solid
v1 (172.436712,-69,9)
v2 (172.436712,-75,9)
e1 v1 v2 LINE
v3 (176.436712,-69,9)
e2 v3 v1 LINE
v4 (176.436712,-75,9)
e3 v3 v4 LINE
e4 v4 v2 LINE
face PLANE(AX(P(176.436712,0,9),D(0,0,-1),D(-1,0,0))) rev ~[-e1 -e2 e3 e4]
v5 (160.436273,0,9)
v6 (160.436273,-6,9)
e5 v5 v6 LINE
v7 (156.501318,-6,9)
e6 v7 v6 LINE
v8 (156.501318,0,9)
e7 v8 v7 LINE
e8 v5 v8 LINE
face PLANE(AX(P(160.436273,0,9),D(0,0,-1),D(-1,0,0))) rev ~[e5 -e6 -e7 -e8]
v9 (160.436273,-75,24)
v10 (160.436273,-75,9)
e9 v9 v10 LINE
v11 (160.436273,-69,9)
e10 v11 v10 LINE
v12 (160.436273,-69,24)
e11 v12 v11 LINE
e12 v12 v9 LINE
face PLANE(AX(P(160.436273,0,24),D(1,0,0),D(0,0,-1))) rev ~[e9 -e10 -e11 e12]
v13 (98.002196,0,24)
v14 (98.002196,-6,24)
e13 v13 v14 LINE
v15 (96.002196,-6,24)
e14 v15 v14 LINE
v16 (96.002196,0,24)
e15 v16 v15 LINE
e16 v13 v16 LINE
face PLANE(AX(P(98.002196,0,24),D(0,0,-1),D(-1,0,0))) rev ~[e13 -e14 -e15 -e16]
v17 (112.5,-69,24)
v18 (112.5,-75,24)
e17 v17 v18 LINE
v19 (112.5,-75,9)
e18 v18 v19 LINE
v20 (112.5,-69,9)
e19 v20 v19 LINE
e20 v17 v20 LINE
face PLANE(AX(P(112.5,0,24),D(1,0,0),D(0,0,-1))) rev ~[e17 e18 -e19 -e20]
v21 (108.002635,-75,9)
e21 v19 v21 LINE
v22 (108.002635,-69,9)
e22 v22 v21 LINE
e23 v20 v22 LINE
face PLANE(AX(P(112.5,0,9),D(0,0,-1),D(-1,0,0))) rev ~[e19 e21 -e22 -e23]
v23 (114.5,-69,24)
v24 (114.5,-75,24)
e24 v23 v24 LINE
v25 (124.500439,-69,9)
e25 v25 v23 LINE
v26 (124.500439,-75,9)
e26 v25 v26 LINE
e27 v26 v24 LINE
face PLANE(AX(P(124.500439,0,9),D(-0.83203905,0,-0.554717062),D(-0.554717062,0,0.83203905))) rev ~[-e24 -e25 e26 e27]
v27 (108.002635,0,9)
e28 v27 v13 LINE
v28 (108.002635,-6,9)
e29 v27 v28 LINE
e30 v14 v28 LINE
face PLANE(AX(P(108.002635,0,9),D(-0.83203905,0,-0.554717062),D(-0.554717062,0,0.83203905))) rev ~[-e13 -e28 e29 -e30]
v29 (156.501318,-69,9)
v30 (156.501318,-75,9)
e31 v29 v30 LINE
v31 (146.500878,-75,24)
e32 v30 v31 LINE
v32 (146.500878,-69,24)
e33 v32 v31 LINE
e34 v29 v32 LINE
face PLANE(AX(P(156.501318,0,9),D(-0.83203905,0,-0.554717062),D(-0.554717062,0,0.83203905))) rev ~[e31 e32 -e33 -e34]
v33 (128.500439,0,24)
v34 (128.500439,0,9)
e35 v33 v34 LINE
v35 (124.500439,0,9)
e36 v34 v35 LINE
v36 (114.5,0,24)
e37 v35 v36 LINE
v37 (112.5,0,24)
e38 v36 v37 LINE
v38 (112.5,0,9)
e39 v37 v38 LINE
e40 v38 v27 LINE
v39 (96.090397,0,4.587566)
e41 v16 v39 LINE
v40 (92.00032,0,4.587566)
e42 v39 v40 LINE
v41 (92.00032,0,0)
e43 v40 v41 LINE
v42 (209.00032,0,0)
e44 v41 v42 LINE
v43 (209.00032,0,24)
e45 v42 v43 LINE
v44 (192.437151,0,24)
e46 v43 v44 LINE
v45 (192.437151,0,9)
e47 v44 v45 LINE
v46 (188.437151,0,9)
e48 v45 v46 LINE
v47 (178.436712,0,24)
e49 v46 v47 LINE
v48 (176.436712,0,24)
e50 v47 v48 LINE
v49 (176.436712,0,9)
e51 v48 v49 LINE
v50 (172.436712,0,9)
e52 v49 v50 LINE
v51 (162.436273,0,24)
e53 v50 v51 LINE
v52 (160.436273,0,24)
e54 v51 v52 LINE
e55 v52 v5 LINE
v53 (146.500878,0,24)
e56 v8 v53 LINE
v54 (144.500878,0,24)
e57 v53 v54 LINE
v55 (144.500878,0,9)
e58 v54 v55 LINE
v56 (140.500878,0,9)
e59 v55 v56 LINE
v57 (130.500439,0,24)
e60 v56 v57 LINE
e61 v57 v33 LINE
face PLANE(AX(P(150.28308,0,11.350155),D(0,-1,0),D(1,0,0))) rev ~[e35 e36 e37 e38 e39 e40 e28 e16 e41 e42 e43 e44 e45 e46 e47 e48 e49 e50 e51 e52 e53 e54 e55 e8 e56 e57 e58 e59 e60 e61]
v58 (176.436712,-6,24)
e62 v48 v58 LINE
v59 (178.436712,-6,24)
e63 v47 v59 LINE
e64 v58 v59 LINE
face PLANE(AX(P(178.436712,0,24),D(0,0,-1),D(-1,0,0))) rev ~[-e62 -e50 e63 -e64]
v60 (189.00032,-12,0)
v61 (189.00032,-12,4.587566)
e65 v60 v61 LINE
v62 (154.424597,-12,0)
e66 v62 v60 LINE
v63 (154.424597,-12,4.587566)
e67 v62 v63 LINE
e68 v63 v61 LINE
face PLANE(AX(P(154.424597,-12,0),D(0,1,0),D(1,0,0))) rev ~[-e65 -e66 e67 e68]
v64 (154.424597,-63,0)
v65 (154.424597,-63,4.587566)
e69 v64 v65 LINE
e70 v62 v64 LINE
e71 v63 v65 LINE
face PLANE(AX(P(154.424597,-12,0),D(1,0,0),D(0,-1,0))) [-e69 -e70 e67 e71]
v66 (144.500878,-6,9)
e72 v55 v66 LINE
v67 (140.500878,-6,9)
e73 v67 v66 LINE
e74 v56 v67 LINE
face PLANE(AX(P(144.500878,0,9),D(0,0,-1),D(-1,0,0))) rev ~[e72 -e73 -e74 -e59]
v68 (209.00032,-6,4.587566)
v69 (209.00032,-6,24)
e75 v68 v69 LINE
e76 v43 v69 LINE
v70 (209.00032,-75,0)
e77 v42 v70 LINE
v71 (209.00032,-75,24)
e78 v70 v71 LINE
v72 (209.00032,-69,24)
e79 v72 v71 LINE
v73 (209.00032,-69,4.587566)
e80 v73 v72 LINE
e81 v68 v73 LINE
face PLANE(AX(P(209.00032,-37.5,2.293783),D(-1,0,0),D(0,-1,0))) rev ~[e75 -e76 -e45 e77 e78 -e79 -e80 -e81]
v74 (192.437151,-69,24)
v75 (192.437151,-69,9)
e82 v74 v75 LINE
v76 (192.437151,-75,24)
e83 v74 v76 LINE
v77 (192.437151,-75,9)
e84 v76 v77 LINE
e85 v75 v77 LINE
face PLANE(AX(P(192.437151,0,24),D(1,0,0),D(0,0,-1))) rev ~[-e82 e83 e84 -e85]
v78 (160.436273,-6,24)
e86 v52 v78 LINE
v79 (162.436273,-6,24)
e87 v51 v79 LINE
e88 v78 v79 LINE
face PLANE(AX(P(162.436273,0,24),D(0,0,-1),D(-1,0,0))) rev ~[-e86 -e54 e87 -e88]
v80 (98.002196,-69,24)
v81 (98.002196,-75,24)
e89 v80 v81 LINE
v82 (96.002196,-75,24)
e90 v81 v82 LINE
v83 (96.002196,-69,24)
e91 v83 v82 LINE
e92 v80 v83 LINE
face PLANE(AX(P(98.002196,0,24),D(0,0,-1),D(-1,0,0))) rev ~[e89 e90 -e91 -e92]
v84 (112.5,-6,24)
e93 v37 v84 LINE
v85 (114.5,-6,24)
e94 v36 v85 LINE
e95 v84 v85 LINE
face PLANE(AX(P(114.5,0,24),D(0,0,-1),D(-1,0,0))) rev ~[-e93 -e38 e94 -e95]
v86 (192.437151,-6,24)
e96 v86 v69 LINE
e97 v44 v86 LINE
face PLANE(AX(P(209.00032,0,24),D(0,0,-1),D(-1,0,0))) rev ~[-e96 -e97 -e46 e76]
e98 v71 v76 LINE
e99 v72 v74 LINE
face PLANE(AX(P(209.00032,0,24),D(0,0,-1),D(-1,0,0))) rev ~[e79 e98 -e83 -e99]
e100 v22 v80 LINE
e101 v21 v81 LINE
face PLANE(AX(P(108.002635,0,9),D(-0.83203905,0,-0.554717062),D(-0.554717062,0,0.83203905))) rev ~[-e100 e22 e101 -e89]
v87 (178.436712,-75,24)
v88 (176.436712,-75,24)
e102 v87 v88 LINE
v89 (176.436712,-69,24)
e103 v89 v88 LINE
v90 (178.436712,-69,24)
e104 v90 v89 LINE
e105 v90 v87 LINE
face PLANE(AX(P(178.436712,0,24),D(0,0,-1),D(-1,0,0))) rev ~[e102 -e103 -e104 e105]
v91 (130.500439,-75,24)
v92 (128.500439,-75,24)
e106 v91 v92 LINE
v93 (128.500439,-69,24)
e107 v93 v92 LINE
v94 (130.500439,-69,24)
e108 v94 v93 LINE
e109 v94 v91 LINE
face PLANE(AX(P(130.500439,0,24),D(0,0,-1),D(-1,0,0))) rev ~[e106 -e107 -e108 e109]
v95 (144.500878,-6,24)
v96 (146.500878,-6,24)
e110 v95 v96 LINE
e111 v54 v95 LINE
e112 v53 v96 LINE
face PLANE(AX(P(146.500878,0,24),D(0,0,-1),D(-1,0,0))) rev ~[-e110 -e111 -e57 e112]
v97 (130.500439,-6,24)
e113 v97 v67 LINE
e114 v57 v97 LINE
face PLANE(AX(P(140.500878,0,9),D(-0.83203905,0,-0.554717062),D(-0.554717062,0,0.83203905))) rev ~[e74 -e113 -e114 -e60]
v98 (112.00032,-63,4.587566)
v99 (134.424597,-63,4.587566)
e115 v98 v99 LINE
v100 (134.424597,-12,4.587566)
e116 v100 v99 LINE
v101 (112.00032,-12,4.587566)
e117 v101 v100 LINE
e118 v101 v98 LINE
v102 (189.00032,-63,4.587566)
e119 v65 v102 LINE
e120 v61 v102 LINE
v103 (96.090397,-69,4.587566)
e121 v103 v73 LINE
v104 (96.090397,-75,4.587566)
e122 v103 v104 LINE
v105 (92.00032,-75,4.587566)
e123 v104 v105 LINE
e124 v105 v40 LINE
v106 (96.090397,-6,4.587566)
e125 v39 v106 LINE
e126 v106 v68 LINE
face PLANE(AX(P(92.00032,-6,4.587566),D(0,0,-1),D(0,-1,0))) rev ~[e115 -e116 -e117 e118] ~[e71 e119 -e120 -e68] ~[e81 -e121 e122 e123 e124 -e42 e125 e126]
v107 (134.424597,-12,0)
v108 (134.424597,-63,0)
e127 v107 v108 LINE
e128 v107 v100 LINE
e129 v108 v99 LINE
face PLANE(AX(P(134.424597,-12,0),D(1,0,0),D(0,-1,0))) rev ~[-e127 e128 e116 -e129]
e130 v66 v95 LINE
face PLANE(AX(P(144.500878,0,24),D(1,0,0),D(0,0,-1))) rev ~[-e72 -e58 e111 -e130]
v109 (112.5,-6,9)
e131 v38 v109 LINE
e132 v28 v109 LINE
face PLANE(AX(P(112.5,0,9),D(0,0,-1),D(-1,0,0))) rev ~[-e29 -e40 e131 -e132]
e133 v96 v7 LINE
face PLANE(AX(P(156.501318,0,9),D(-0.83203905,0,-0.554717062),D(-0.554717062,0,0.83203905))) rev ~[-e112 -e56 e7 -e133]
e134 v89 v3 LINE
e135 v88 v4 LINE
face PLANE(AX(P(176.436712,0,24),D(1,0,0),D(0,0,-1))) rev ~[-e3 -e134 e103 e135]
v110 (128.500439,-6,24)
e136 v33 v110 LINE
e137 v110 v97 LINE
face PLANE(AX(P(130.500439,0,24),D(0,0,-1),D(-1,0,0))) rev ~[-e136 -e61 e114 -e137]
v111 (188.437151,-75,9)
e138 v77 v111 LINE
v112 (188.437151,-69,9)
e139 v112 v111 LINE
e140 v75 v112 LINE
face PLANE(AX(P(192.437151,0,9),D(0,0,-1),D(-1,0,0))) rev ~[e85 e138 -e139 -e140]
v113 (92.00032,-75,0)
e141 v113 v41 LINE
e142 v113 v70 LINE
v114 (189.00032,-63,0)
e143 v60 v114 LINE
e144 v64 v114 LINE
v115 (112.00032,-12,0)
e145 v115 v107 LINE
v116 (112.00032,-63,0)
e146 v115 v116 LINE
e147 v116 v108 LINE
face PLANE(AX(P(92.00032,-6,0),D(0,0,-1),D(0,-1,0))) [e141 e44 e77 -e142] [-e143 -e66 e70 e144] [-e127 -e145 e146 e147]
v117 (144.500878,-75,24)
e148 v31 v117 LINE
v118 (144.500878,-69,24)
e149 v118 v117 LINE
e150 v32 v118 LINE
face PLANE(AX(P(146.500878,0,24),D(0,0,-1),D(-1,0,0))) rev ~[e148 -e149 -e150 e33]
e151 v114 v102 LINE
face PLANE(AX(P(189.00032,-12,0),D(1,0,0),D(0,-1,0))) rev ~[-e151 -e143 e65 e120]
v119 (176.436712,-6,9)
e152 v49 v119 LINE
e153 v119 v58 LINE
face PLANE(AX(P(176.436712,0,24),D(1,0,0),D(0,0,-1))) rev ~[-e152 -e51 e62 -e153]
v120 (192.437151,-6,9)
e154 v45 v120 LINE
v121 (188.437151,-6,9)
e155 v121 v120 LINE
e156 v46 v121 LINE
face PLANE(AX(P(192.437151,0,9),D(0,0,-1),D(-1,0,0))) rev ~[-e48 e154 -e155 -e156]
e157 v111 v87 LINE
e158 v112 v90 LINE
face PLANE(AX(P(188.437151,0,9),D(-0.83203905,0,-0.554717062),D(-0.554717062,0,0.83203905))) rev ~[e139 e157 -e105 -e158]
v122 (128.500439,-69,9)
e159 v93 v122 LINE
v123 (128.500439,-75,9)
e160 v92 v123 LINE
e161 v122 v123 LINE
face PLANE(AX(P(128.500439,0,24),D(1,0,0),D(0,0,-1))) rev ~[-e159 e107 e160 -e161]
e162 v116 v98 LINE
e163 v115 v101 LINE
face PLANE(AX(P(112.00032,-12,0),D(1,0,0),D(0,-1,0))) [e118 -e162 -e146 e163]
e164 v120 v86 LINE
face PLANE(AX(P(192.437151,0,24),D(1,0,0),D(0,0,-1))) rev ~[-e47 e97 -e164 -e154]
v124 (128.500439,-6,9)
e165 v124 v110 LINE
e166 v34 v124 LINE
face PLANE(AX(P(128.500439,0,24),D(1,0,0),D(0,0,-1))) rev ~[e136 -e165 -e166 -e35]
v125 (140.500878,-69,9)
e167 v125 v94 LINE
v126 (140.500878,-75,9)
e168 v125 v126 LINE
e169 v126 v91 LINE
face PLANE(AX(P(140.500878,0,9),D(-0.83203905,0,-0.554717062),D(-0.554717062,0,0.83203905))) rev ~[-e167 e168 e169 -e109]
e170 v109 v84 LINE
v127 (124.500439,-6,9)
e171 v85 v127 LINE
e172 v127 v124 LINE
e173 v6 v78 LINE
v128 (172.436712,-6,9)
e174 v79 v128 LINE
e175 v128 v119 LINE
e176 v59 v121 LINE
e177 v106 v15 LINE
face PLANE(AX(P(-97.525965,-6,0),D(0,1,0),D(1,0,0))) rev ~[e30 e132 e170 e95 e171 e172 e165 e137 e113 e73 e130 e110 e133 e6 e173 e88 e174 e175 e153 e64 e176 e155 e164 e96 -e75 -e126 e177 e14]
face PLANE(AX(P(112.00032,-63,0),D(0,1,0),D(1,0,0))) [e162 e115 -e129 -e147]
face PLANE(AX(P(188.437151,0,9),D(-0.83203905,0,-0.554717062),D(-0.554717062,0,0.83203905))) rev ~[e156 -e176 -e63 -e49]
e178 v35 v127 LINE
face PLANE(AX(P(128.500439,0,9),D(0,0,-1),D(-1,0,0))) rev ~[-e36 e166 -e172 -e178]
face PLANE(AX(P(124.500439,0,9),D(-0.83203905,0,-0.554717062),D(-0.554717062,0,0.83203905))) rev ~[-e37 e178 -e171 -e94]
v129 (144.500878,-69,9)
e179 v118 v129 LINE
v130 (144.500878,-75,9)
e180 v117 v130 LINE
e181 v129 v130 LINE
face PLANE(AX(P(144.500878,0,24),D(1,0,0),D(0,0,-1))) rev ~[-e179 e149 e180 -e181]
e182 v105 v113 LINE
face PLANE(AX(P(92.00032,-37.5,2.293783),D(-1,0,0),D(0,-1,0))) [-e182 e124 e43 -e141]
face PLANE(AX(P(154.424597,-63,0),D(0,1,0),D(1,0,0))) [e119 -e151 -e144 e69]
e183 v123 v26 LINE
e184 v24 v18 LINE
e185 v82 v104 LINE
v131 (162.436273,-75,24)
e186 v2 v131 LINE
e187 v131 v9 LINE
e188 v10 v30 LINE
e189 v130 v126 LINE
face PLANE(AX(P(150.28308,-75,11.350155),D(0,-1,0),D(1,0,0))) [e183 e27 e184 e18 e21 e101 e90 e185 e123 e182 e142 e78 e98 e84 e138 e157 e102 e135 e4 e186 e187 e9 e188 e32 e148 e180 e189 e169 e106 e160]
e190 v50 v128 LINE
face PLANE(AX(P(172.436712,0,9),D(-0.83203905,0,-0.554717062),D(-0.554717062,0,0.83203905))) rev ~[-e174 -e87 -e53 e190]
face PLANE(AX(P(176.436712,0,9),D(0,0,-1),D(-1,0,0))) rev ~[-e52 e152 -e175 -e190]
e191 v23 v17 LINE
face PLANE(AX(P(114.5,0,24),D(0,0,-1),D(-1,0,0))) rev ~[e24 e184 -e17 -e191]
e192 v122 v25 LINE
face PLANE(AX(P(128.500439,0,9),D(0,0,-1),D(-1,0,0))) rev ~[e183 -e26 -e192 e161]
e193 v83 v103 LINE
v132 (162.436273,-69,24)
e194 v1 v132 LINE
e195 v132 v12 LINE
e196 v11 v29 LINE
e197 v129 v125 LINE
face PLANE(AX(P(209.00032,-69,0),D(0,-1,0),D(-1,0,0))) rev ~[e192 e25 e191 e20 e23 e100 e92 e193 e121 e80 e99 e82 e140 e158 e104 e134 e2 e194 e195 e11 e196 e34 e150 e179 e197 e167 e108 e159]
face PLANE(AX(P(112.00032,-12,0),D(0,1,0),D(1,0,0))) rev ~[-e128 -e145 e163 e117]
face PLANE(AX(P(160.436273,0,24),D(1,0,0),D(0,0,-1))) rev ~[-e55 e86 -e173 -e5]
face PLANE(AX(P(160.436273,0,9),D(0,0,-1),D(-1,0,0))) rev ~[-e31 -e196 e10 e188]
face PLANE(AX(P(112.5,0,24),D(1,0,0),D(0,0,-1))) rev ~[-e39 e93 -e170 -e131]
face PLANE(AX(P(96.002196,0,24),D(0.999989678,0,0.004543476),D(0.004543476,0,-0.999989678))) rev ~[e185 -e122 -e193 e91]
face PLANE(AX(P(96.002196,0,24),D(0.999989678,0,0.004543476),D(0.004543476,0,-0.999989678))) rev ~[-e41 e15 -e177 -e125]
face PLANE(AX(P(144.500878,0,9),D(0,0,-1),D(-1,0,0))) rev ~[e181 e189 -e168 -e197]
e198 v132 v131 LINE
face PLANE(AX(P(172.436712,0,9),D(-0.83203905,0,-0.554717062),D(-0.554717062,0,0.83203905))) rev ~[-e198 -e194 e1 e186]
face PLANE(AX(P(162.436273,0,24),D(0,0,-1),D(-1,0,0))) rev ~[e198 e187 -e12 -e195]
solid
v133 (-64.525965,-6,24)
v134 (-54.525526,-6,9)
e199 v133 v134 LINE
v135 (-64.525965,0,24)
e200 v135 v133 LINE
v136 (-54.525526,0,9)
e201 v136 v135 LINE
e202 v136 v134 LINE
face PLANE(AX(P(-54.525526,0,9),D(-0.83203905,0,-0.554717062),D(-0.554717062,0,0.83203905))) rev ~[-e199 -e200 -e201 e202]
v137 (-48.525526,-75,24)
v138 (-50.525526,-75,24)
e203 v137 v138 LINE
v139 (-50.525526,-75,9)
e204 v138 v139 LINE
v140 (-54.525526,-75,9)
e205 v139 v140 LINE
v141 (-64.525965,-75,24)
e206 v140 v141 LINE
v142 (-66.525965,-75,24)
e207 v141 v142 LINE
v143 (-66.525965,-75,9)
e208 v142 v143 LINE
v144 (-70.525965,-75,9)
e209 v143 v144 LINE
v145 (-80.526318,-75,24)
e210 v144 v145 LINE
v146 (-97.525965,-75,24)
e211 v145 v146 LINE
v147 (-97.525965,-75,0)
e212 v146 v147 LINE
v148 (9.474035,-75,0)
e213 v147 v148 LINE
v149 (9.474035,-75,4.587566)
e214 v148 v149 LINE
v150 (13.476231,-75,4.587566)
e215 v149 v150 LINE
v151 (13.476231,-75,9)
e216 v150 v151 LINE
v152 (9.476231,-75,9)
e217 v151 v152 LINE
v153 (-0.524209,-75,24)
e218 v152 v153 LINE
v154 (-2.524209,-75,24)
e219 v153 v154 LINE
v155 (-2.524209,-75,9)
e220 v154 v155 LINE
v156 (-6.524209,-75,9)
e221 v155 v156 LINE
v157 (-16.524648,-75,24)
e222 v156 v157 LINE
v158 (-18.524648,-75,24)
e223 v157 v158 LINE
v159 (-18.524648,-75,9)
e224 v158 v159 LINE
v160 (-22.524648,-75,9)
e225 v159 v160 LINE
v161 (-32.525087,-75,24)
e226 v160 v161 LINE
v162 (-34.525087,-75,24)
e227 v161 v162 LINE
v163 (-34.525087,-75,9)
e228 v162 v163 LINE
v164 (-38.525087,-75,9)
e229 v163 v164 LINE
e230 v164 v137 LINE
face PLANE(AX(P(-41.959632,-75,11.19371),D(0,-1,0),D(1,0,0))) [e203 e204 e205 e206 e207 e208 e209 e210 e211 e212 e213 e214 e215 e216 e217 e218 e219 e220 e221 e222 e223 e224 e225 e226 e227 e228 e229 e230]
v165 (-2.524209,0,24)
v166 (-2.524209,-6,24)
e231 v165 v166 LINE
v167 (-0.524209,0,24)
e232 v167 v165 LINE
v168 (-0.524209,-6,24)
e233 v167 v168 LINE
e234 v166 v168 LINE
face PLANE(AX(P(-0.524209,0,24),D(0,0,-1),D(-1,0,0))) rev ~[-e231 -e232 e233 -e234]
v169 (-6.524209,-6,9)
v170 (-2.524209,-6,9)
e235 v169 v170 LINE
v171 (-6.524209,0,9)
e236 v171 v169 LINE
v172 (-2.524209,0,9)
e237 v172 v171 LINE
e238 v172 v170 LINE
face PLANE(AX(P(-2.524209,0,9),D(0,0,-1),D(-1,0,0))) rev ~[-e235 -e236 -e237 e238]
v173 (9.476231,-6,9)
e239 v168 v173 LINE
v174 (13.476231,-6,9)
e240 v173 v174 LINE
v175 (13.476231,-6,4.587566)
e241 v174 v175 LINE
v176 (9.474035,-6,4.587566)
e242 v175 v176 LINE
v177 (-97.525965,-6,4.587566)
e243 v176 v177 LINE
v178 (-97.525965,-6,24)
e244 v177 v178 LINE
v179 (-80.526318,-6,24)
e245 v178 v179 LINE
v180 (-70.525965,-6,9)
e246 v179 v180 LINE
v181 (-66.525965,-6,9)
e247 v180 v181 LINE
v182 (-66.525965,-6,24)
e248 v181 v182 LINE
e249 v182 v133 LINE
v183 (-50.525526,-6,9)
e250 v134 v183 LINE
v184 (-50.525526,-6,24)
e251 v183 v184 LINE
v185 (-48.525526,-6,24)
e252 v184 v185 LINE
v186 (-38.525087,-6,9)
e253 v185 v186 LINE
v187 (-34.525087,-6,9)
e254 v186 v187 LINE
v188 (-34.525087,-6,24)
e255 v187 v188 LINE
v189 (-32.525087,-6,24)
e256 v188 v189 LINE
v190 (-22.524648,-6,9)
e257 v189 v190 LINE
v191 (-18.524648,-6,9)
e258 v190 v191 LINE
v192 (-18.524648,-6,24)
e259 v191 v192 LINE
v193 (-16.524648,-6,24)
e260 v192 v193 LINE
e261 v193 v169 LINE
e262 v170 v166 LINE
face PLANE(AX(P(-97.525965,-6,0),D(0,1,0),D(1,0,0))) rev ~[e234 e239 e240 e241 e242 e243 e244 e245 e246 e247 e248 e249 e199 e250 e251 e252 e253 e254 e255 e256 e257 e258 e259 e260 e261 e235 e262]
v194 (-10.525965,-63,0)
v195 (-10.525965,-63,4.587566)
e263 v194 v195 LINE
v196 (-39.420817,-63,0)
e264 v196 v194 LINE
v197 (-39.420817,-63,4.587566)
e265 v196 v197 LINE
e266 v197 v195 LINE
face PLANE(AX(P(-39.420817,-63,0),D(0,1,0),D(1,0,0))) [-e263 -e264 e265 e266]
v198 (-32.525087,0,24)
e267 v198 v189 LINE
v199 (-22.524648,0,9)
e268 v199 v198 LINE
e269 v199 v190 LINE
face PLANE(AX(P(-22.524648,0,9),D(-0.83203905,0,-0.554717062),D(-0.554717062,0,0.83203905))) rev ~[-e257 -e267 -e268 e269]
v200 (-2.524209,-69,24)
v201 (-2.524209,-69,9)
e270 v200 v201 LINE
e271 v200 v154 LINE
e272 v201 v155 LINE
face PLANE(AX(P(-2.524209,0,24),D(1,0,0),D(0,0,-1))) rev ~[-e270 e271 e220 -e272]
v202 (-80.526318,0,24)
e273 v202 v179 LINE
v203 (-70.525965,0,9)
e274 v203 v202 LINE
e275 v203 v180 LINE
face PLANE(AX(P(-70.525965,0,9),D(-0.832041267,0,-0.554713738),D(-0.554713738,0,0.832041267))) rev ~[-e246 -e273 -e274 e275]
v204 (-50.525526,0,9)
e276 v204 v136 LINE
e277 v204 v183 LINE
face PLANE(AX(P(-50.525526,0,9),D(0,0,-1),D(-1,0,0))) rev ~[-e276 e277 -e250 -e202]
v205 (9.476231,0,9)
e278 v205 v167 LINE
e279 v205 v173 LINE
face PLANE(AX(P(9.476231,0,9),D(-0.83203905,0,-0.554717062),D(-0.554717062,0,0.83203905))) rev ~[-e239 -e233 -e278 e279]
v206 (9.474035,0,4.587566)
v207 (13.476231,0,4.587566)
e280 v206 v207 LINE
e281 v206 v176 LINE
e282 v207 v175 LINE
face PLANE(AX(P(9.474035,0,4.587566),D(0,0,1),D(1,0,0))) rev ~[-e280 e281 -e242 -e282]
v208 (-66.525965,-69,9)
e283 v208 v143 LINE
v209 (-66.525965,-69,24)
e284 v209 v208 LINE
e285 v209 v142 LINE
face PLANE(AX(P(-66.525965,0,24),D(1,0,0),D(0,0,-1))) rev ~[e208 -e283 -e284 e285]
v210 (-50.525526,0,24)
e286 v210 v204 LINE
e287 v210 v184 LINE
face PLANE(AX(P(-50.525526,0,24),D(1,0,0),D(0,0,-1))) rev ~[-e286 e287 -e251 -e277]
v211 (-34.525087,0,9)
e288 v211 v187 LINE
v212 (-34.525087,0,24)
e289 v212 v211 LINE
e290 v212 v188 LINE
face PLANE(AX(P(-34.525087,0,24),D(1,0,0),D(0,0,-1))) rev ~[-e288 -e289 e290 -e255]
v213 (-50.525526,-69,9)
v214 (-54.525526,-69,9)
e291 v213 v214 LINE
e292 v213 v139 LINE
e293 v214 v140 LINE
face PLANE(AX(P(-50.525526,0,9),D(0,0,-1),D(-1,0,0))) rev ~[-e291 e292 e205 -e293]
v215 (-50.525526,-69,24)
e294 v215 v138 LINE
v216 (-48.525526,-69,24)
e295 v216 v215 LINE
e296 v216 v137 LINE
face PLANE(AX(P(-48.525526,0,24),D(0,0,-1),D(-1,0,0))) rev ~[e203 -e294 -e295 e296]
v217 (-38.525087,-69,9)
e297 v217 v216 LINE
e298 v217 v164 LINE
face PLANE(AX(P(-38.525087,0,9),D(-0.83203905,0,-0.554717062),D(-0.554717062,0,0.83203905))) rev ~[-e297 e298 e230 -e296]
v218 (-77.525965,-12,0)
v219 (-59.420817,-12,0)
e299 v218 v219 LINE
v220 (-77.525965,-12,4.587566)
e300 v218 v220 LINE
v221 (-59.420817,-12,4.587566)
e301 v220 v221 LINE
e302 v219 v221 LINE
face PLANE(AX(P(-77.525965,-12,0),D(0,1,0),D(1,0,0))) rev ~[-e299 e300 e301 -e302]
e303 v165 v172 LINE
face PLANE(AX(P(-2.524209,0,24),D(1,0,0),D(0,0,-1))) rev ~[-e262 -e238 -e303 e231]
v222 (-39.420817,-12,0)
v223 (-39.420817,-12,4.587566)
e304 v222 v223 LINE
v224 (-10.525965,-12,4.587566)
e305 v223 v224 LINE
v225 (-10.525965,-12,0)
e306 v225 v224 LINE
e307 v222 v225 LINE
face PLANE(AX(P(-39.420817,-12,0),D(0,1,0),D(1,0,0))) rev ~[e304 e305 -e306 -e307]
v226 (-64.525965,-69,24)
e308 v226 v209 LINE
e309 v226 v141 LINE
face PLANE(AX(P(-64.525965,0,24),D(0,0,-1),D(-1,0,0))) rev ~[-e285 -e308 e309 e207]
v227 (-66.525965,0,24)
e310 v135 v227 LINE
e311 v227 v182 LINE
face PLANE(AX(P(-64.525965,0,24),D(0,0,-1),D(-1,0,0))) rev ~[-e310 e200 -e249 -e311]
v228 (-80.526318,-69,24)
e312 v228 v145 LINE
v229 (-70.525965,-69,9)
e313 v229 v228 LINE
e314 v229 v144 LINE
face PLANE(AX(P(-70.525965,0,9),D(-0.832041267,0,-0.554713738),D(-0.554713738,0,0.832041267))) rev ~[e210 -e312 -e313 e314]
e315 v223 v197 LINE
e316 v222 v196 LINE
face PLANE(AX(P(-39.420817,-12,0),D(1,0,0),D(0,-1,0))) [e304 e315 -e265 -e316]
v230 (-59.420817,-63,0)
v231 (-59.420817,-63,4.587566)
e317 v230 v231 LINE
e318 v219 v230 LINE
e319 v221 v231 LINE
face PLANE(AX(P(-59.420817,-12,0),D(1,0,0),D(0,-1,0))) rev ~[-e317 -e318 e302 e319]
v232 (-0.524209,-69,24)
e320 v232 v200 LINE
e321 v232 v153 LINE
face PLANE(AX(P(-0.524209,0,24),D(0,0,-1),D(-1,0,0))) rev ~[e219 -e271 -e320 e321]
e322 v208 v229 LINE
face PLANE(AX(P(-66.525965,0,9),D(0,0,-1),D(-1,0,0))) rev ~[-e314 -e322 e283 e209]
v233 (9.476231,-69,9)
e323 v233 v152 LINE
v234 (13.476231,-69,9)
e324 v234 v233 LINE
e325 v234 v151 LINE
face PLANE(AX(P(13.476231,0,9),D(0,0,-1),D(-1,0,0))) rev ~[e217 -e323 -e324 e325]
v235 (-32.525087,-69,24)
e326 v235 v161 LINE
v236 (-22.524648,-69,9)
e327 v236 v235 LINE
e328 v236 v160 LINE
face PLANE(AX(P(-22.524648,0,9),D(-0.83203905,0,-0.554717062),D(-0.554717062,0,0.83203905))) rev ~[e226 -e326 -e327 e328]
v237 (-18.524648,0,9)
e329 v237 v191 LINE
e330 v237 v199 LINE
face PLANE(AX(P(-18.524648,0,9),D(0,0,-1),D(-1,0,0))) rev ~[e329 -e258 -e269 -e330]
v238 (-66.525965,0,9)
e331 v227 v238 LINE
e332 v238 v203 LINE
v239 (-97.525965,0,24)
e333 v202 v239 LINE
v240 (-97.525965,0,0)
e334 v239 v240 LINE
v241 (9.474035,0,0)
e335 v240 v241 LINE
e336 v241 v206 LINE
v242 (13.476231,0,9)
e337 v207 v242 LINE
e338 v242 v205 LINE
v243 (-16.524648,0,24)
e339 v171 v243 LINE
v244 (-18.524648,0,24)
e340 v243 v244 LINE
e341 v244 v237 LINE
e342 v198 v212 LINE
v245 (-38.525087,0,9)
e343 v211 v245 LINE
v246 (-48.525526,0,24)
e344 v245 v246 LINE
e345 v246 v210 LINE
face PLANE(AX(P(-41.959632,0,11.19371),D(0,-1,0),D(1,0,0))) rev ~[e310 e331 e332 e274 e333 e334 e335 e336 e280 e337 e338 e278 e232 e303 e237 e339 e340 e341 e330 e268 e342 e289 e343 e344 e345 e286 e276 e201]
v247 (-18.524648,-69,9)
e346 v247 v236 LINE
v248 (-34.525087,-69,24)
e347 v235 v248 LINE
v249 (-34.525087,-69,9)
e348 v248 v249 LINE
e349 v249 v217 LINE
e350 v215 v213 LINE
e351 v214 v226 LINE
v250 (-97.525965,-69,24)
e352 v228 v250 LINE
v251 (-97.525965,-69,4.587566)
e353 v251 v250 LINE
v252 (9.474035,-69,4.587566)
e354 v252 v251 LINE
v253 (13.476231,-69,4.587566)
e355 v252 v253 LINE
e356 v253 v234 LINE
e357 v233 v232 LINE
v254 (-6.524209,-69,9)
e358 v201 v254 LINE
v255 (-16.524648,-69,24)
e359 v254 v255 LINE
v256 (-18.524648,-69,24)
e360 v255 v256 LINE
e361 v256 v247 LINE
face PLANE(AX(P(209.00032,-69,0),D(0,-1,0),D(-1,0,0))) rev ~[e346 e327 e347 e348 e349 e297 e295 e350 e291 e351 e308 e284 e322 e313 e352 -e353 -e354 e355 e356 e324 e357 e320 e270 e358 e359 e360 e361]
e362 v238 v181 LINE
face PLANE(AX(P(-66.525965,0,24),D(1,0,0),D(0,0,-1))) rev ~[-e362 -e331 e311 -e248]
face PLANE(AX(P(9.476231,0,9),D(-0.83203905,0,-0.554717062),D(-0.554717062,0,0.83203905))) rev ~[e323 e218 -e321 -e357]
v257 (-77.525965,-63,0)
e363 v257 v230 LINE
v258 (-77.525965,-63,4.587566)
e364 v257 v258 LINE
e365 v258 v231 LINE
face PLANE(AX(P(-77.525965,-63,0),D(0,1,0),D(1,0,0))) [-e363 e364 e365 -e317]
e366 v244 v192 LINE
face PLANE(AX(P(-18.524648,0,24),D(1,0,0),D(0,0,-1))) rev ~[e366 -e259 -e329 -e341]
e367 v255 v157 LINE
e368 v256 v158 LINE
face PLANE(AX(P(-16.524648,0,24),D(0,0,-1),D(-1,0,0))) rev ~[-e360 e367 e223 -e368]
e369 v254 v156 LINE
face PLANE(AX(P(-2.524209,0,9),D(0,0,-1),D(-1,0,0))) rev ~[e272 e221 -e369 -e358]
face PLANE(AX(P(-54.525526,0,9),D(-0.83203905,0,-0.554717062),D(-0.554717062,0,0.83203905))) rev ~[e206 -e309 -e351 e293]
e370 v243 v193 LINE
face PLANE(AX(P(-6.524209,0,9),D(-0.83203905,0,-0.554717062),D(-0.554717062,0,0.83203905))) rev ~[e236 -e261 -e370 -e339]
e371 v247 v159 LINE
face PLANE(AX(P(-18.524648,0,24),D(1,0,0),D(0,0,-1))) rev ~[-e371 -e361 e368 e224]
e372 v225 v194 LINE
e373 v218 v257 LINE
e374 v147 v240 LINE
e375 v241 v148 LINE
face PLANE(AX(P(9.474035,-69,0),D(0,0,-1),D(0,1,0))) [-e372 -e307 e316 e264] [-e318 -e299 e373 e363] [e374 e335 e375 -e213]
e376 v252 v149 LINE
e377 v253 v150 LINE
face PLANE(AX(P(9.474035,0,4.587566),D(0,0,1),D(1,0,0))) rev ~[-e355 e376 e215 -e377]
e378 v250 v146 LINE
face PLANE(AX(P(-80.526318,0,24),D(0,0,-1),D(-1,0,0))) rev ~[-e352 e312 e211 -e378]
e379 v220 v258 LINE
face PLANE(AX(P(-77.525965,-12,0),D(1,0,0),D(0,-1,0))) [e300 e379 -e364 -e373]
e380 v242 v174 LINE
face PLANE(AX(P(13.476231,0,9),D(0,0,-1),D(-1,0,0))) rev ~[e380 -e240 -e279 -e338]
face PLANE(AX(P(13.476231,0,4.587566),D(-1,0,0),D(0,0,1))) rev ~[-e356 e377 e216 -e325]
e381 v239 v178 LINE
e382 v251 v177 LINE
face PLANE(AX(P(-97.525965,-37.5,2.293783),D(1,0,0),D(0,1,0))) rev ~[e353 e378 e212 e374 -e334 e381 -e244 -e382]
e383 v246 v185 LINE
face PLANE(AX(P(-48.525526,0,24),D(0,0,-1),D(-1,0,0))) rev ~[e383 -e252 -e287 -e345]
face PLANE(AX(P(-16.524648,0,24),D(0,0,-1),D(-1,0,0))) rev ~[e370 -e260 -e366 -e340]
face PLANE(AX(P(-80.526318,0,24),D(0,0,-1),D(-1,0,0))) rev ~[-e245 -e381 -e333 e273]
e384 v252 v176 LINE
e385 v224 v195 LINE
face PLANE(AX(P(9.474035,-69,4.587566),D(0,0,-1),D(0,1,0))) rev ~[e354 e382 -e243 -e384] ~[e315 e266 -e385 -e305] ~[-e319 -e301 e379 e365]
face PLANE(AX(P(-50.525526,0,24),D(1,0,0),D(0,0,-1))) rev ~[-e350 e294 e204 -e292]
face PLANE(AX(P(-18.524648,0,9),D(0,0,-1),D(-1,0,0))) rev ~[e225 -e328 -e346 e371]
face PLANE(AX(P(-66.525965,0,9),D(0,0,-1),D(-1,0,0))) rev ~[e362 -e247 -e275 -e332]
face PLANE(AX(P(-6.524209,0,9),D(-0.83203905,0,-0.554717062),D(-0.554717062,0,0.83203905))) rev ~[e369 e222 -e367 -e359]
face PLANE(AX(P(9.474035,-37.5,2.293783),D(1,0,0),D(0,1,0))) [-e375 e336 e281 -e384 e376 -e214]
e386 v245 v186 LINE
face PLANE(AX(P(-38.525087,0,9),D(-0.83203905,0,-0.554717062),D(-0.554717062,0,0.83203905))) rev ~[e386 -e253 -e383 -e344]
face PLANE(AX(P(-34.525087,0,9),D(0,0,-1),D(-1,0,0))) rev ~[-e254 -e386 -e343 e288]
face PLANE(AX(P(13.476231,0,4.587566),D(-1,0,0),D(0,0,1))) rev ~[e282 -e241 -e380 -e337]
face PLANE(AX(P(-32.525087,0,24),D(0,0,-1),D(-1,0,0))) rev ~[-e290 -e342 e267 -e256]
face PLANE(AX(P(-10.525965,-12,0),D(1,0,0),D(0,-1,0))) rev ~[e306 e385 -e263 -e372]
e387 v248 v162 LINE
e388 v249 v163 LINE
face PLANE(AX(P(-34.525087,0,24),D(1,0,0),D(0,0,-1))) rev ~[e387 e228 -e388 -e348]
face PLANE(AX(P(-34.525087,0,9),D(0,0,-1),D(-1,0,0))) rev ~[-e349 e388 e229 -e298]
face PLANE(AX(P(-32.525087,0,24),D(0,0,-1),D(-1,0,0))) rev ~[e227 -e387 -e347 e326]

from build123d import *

# Parameters (mm, degrees)
F1_DEPTH  = 75
F2_W      = 199.5262856326
F2_H      = 63
F2_W_2    = 107
F3_DEPTH  = 24.001
F5_DEPTH  = 24.001
F6_W      = 63
F6_H      = 4.587566305
F7_DEPTH  = 107
F8_W      = 63
F8_H      = 4.587566305
F9_DEPTH  = 117
F12_W     = 22.4242766801
F12_H     = 51
F12_W_2   = 34.5757233199
F13_DEPTH = 24.001
F14_W     = 18.1051486874
F14_H     = 51
F14_W_2   = 28.8948513126
F15_DEPTH = 24.001


with BuildPart() as f1:
    # F0 (on Front) → F1 (new body)
    with BuildSketch(Plane.XZ):
        Polygon((-64.5259652877, 24), (-66.5259652877, 24), (-66.5259652877, 9), (-70.5259652877, 9), (-80.526317911, 24), (-97.5259652877, 24), (-97.5259652877, 0), (9.4740347123, 0), (9.4740347123, 4.587566305), (13.4762306641, 4.587566305), (13.4762306641, 9), (9.4762306641, 9), (-0.5242085263, 24), (-2.5242085263, 24), (-2.5242085263, 9), (-6.5242085263, 9), (-16.5246477167, 24), (-18.5246477167, 24), (-18.5246477167, 9), (-22.5246477167, 9), (-32.525086907, 24), (-34.525086907, 24), (-34.525086907, 9), (-38.525086907, 9), (-48.5255260974, 24), (-50.5255260974, 24), (-50.5255260974, 9), (-54.5255260974, 9), align=None)
    extrude(amount=F1_DEPTH)


with BuildPart() as f1b:
    # F0 (on Front) → F1, piece 2 (new body)
    with BuildSketch(Plane.XZ):
        Polygon((98.0021959518, 24), (96.0021959518, 24), (96.0903967895, 4.587566305), (92.0003203449, 4.587566305), (92.0003203449, 0), (209.0003203449, 0), (209.0003203449, 24), (192.4371510019, 24), (192.4371510019, 9), (188.4371510019, 9), (178.4367118115, 24), (176.4367118115, 24), (176.4367118115, 9), (172.4367118115, 9), (162.4362726212, 24), (160.4362726212, 24), (160.4362726212, 9), (156.5013175711, 9), (146.5008783807, 24), (144.5008783807, 24), (144.5008783807, 9), (140.5008783807, 9), (130.5004391904, 24), (128.5004391904, 24), (128.5004391904, 9), (124.5004391904, 9), (114.5, 24), (112.5, 24), (112.5, 9), (108.0026351421, 9), align=None)
    extrude(amount=F1_DEPTH)


with BuildPart() as f3_tool:
    # F2 (on face) → F3 (new body, through all)
    with BuildSketch(Plane(origin=(0, 0, 0), x_dir=(1, 0, 0), z_dir=(0, 0, -1))):
        with Locations((109.2371775286, 37.5)):
            Rectangle(F2_W, F2_H)
        with Locations((-44.0259652877, 37.5)):
            Rectangle(F2_W_2, F2_H)
    extrude(amount=-F3_DEPTH)


with BuildPart() as f1_1:
    add(f1.part)

    # F3: cut by f3_tool
    add(f3_tool.part, mode=Mode.SUBTRACT)

    # F4 (on face) → F5 (cut, through all)
    with BuildSketch(Plane(origin=(0, 0, 0), x_dir=(1, 0, 0), z_dir=(0, 0, -1))):
        Polygon((13.4762306641, 6), (13.4762306641, 69), (9.4740347123, 69), (-97.5259652877, 69), (-97.5259652877, 6), (9.4740347123, 6), align=None)
    extrude(amount=-F5_DEPTH, mode=Mode.SUBTRACT)


with BuildPart() as f1b_1:
    add(f1b.part)

    # F3: cut by f3_tool
    add(f3_tool.part, mode=Mode.SUBTRACT)


with BuildPart() as f7:
    # F6 (on face) → F7 (new body)
    with BuildSketch(Plane.YZ.offset(9.4740347123)):
        with Locations((-37.5, 2.2937831525)):
            Rectangle(F6_W, F6_H)
    extrude(amount=-F7_DEPTH)


with BuildPart() as f9:
    # F8 (on face) → F9 (new body)
    with BuildSketch(Plane(origin=(92.0003203449, 0, 0), x_dir=(0, -1, 0), z_dir=(-1, 0, 0))):
        with Locations((37.5, 2.2937831525)):
            Rectangle(F8_W, F8_H)
    extrude(amount=-F9_DEPTH)


with BuildPart() as f1b_2:
    add(f1b_1.part)

    # F10: union F9
    add(f9.part)

    # F12 (on face) → F13 (cut, through all)
    with BuildSketch(Plane(origin=(0, 0, 0), x_dir=(1, 0, 0), z_dir=(0, 0, -1))):
        with Locations((123.2124586849, 37.5)):
            Rectangle(F12_W, F12_H)
        with Locations((171.7124586849, 37.5)):
            Rectangle(F12_W_2, F12_H)
    extrude(amount=-F13_DEPTH, mode=Mode.SUBTRACT)


with BuildPart() as f1_2:
    add(f1_1.part)

    # F11: union F7
    add(f7.part)

    # F14 (on face) → F15 (cut, through all)
    with BuildSketch(Plane(origin=(0, 0, 0), x_dir=(1, 0, 0), z_dir=(0, 0, -1))):
        with Locations((-68.473390944, 37.5)):
            Rectangle(F14_W, F14_H)
        with Locations((-24.973390944, 37.5)):
            Rectangle(F14_W_2, F14_H)
    extrude(amount=-F15_DEPTH, mode=Mode.SUBTRACT)


solid = Compound([f1b_2.part, f1_2.part])
